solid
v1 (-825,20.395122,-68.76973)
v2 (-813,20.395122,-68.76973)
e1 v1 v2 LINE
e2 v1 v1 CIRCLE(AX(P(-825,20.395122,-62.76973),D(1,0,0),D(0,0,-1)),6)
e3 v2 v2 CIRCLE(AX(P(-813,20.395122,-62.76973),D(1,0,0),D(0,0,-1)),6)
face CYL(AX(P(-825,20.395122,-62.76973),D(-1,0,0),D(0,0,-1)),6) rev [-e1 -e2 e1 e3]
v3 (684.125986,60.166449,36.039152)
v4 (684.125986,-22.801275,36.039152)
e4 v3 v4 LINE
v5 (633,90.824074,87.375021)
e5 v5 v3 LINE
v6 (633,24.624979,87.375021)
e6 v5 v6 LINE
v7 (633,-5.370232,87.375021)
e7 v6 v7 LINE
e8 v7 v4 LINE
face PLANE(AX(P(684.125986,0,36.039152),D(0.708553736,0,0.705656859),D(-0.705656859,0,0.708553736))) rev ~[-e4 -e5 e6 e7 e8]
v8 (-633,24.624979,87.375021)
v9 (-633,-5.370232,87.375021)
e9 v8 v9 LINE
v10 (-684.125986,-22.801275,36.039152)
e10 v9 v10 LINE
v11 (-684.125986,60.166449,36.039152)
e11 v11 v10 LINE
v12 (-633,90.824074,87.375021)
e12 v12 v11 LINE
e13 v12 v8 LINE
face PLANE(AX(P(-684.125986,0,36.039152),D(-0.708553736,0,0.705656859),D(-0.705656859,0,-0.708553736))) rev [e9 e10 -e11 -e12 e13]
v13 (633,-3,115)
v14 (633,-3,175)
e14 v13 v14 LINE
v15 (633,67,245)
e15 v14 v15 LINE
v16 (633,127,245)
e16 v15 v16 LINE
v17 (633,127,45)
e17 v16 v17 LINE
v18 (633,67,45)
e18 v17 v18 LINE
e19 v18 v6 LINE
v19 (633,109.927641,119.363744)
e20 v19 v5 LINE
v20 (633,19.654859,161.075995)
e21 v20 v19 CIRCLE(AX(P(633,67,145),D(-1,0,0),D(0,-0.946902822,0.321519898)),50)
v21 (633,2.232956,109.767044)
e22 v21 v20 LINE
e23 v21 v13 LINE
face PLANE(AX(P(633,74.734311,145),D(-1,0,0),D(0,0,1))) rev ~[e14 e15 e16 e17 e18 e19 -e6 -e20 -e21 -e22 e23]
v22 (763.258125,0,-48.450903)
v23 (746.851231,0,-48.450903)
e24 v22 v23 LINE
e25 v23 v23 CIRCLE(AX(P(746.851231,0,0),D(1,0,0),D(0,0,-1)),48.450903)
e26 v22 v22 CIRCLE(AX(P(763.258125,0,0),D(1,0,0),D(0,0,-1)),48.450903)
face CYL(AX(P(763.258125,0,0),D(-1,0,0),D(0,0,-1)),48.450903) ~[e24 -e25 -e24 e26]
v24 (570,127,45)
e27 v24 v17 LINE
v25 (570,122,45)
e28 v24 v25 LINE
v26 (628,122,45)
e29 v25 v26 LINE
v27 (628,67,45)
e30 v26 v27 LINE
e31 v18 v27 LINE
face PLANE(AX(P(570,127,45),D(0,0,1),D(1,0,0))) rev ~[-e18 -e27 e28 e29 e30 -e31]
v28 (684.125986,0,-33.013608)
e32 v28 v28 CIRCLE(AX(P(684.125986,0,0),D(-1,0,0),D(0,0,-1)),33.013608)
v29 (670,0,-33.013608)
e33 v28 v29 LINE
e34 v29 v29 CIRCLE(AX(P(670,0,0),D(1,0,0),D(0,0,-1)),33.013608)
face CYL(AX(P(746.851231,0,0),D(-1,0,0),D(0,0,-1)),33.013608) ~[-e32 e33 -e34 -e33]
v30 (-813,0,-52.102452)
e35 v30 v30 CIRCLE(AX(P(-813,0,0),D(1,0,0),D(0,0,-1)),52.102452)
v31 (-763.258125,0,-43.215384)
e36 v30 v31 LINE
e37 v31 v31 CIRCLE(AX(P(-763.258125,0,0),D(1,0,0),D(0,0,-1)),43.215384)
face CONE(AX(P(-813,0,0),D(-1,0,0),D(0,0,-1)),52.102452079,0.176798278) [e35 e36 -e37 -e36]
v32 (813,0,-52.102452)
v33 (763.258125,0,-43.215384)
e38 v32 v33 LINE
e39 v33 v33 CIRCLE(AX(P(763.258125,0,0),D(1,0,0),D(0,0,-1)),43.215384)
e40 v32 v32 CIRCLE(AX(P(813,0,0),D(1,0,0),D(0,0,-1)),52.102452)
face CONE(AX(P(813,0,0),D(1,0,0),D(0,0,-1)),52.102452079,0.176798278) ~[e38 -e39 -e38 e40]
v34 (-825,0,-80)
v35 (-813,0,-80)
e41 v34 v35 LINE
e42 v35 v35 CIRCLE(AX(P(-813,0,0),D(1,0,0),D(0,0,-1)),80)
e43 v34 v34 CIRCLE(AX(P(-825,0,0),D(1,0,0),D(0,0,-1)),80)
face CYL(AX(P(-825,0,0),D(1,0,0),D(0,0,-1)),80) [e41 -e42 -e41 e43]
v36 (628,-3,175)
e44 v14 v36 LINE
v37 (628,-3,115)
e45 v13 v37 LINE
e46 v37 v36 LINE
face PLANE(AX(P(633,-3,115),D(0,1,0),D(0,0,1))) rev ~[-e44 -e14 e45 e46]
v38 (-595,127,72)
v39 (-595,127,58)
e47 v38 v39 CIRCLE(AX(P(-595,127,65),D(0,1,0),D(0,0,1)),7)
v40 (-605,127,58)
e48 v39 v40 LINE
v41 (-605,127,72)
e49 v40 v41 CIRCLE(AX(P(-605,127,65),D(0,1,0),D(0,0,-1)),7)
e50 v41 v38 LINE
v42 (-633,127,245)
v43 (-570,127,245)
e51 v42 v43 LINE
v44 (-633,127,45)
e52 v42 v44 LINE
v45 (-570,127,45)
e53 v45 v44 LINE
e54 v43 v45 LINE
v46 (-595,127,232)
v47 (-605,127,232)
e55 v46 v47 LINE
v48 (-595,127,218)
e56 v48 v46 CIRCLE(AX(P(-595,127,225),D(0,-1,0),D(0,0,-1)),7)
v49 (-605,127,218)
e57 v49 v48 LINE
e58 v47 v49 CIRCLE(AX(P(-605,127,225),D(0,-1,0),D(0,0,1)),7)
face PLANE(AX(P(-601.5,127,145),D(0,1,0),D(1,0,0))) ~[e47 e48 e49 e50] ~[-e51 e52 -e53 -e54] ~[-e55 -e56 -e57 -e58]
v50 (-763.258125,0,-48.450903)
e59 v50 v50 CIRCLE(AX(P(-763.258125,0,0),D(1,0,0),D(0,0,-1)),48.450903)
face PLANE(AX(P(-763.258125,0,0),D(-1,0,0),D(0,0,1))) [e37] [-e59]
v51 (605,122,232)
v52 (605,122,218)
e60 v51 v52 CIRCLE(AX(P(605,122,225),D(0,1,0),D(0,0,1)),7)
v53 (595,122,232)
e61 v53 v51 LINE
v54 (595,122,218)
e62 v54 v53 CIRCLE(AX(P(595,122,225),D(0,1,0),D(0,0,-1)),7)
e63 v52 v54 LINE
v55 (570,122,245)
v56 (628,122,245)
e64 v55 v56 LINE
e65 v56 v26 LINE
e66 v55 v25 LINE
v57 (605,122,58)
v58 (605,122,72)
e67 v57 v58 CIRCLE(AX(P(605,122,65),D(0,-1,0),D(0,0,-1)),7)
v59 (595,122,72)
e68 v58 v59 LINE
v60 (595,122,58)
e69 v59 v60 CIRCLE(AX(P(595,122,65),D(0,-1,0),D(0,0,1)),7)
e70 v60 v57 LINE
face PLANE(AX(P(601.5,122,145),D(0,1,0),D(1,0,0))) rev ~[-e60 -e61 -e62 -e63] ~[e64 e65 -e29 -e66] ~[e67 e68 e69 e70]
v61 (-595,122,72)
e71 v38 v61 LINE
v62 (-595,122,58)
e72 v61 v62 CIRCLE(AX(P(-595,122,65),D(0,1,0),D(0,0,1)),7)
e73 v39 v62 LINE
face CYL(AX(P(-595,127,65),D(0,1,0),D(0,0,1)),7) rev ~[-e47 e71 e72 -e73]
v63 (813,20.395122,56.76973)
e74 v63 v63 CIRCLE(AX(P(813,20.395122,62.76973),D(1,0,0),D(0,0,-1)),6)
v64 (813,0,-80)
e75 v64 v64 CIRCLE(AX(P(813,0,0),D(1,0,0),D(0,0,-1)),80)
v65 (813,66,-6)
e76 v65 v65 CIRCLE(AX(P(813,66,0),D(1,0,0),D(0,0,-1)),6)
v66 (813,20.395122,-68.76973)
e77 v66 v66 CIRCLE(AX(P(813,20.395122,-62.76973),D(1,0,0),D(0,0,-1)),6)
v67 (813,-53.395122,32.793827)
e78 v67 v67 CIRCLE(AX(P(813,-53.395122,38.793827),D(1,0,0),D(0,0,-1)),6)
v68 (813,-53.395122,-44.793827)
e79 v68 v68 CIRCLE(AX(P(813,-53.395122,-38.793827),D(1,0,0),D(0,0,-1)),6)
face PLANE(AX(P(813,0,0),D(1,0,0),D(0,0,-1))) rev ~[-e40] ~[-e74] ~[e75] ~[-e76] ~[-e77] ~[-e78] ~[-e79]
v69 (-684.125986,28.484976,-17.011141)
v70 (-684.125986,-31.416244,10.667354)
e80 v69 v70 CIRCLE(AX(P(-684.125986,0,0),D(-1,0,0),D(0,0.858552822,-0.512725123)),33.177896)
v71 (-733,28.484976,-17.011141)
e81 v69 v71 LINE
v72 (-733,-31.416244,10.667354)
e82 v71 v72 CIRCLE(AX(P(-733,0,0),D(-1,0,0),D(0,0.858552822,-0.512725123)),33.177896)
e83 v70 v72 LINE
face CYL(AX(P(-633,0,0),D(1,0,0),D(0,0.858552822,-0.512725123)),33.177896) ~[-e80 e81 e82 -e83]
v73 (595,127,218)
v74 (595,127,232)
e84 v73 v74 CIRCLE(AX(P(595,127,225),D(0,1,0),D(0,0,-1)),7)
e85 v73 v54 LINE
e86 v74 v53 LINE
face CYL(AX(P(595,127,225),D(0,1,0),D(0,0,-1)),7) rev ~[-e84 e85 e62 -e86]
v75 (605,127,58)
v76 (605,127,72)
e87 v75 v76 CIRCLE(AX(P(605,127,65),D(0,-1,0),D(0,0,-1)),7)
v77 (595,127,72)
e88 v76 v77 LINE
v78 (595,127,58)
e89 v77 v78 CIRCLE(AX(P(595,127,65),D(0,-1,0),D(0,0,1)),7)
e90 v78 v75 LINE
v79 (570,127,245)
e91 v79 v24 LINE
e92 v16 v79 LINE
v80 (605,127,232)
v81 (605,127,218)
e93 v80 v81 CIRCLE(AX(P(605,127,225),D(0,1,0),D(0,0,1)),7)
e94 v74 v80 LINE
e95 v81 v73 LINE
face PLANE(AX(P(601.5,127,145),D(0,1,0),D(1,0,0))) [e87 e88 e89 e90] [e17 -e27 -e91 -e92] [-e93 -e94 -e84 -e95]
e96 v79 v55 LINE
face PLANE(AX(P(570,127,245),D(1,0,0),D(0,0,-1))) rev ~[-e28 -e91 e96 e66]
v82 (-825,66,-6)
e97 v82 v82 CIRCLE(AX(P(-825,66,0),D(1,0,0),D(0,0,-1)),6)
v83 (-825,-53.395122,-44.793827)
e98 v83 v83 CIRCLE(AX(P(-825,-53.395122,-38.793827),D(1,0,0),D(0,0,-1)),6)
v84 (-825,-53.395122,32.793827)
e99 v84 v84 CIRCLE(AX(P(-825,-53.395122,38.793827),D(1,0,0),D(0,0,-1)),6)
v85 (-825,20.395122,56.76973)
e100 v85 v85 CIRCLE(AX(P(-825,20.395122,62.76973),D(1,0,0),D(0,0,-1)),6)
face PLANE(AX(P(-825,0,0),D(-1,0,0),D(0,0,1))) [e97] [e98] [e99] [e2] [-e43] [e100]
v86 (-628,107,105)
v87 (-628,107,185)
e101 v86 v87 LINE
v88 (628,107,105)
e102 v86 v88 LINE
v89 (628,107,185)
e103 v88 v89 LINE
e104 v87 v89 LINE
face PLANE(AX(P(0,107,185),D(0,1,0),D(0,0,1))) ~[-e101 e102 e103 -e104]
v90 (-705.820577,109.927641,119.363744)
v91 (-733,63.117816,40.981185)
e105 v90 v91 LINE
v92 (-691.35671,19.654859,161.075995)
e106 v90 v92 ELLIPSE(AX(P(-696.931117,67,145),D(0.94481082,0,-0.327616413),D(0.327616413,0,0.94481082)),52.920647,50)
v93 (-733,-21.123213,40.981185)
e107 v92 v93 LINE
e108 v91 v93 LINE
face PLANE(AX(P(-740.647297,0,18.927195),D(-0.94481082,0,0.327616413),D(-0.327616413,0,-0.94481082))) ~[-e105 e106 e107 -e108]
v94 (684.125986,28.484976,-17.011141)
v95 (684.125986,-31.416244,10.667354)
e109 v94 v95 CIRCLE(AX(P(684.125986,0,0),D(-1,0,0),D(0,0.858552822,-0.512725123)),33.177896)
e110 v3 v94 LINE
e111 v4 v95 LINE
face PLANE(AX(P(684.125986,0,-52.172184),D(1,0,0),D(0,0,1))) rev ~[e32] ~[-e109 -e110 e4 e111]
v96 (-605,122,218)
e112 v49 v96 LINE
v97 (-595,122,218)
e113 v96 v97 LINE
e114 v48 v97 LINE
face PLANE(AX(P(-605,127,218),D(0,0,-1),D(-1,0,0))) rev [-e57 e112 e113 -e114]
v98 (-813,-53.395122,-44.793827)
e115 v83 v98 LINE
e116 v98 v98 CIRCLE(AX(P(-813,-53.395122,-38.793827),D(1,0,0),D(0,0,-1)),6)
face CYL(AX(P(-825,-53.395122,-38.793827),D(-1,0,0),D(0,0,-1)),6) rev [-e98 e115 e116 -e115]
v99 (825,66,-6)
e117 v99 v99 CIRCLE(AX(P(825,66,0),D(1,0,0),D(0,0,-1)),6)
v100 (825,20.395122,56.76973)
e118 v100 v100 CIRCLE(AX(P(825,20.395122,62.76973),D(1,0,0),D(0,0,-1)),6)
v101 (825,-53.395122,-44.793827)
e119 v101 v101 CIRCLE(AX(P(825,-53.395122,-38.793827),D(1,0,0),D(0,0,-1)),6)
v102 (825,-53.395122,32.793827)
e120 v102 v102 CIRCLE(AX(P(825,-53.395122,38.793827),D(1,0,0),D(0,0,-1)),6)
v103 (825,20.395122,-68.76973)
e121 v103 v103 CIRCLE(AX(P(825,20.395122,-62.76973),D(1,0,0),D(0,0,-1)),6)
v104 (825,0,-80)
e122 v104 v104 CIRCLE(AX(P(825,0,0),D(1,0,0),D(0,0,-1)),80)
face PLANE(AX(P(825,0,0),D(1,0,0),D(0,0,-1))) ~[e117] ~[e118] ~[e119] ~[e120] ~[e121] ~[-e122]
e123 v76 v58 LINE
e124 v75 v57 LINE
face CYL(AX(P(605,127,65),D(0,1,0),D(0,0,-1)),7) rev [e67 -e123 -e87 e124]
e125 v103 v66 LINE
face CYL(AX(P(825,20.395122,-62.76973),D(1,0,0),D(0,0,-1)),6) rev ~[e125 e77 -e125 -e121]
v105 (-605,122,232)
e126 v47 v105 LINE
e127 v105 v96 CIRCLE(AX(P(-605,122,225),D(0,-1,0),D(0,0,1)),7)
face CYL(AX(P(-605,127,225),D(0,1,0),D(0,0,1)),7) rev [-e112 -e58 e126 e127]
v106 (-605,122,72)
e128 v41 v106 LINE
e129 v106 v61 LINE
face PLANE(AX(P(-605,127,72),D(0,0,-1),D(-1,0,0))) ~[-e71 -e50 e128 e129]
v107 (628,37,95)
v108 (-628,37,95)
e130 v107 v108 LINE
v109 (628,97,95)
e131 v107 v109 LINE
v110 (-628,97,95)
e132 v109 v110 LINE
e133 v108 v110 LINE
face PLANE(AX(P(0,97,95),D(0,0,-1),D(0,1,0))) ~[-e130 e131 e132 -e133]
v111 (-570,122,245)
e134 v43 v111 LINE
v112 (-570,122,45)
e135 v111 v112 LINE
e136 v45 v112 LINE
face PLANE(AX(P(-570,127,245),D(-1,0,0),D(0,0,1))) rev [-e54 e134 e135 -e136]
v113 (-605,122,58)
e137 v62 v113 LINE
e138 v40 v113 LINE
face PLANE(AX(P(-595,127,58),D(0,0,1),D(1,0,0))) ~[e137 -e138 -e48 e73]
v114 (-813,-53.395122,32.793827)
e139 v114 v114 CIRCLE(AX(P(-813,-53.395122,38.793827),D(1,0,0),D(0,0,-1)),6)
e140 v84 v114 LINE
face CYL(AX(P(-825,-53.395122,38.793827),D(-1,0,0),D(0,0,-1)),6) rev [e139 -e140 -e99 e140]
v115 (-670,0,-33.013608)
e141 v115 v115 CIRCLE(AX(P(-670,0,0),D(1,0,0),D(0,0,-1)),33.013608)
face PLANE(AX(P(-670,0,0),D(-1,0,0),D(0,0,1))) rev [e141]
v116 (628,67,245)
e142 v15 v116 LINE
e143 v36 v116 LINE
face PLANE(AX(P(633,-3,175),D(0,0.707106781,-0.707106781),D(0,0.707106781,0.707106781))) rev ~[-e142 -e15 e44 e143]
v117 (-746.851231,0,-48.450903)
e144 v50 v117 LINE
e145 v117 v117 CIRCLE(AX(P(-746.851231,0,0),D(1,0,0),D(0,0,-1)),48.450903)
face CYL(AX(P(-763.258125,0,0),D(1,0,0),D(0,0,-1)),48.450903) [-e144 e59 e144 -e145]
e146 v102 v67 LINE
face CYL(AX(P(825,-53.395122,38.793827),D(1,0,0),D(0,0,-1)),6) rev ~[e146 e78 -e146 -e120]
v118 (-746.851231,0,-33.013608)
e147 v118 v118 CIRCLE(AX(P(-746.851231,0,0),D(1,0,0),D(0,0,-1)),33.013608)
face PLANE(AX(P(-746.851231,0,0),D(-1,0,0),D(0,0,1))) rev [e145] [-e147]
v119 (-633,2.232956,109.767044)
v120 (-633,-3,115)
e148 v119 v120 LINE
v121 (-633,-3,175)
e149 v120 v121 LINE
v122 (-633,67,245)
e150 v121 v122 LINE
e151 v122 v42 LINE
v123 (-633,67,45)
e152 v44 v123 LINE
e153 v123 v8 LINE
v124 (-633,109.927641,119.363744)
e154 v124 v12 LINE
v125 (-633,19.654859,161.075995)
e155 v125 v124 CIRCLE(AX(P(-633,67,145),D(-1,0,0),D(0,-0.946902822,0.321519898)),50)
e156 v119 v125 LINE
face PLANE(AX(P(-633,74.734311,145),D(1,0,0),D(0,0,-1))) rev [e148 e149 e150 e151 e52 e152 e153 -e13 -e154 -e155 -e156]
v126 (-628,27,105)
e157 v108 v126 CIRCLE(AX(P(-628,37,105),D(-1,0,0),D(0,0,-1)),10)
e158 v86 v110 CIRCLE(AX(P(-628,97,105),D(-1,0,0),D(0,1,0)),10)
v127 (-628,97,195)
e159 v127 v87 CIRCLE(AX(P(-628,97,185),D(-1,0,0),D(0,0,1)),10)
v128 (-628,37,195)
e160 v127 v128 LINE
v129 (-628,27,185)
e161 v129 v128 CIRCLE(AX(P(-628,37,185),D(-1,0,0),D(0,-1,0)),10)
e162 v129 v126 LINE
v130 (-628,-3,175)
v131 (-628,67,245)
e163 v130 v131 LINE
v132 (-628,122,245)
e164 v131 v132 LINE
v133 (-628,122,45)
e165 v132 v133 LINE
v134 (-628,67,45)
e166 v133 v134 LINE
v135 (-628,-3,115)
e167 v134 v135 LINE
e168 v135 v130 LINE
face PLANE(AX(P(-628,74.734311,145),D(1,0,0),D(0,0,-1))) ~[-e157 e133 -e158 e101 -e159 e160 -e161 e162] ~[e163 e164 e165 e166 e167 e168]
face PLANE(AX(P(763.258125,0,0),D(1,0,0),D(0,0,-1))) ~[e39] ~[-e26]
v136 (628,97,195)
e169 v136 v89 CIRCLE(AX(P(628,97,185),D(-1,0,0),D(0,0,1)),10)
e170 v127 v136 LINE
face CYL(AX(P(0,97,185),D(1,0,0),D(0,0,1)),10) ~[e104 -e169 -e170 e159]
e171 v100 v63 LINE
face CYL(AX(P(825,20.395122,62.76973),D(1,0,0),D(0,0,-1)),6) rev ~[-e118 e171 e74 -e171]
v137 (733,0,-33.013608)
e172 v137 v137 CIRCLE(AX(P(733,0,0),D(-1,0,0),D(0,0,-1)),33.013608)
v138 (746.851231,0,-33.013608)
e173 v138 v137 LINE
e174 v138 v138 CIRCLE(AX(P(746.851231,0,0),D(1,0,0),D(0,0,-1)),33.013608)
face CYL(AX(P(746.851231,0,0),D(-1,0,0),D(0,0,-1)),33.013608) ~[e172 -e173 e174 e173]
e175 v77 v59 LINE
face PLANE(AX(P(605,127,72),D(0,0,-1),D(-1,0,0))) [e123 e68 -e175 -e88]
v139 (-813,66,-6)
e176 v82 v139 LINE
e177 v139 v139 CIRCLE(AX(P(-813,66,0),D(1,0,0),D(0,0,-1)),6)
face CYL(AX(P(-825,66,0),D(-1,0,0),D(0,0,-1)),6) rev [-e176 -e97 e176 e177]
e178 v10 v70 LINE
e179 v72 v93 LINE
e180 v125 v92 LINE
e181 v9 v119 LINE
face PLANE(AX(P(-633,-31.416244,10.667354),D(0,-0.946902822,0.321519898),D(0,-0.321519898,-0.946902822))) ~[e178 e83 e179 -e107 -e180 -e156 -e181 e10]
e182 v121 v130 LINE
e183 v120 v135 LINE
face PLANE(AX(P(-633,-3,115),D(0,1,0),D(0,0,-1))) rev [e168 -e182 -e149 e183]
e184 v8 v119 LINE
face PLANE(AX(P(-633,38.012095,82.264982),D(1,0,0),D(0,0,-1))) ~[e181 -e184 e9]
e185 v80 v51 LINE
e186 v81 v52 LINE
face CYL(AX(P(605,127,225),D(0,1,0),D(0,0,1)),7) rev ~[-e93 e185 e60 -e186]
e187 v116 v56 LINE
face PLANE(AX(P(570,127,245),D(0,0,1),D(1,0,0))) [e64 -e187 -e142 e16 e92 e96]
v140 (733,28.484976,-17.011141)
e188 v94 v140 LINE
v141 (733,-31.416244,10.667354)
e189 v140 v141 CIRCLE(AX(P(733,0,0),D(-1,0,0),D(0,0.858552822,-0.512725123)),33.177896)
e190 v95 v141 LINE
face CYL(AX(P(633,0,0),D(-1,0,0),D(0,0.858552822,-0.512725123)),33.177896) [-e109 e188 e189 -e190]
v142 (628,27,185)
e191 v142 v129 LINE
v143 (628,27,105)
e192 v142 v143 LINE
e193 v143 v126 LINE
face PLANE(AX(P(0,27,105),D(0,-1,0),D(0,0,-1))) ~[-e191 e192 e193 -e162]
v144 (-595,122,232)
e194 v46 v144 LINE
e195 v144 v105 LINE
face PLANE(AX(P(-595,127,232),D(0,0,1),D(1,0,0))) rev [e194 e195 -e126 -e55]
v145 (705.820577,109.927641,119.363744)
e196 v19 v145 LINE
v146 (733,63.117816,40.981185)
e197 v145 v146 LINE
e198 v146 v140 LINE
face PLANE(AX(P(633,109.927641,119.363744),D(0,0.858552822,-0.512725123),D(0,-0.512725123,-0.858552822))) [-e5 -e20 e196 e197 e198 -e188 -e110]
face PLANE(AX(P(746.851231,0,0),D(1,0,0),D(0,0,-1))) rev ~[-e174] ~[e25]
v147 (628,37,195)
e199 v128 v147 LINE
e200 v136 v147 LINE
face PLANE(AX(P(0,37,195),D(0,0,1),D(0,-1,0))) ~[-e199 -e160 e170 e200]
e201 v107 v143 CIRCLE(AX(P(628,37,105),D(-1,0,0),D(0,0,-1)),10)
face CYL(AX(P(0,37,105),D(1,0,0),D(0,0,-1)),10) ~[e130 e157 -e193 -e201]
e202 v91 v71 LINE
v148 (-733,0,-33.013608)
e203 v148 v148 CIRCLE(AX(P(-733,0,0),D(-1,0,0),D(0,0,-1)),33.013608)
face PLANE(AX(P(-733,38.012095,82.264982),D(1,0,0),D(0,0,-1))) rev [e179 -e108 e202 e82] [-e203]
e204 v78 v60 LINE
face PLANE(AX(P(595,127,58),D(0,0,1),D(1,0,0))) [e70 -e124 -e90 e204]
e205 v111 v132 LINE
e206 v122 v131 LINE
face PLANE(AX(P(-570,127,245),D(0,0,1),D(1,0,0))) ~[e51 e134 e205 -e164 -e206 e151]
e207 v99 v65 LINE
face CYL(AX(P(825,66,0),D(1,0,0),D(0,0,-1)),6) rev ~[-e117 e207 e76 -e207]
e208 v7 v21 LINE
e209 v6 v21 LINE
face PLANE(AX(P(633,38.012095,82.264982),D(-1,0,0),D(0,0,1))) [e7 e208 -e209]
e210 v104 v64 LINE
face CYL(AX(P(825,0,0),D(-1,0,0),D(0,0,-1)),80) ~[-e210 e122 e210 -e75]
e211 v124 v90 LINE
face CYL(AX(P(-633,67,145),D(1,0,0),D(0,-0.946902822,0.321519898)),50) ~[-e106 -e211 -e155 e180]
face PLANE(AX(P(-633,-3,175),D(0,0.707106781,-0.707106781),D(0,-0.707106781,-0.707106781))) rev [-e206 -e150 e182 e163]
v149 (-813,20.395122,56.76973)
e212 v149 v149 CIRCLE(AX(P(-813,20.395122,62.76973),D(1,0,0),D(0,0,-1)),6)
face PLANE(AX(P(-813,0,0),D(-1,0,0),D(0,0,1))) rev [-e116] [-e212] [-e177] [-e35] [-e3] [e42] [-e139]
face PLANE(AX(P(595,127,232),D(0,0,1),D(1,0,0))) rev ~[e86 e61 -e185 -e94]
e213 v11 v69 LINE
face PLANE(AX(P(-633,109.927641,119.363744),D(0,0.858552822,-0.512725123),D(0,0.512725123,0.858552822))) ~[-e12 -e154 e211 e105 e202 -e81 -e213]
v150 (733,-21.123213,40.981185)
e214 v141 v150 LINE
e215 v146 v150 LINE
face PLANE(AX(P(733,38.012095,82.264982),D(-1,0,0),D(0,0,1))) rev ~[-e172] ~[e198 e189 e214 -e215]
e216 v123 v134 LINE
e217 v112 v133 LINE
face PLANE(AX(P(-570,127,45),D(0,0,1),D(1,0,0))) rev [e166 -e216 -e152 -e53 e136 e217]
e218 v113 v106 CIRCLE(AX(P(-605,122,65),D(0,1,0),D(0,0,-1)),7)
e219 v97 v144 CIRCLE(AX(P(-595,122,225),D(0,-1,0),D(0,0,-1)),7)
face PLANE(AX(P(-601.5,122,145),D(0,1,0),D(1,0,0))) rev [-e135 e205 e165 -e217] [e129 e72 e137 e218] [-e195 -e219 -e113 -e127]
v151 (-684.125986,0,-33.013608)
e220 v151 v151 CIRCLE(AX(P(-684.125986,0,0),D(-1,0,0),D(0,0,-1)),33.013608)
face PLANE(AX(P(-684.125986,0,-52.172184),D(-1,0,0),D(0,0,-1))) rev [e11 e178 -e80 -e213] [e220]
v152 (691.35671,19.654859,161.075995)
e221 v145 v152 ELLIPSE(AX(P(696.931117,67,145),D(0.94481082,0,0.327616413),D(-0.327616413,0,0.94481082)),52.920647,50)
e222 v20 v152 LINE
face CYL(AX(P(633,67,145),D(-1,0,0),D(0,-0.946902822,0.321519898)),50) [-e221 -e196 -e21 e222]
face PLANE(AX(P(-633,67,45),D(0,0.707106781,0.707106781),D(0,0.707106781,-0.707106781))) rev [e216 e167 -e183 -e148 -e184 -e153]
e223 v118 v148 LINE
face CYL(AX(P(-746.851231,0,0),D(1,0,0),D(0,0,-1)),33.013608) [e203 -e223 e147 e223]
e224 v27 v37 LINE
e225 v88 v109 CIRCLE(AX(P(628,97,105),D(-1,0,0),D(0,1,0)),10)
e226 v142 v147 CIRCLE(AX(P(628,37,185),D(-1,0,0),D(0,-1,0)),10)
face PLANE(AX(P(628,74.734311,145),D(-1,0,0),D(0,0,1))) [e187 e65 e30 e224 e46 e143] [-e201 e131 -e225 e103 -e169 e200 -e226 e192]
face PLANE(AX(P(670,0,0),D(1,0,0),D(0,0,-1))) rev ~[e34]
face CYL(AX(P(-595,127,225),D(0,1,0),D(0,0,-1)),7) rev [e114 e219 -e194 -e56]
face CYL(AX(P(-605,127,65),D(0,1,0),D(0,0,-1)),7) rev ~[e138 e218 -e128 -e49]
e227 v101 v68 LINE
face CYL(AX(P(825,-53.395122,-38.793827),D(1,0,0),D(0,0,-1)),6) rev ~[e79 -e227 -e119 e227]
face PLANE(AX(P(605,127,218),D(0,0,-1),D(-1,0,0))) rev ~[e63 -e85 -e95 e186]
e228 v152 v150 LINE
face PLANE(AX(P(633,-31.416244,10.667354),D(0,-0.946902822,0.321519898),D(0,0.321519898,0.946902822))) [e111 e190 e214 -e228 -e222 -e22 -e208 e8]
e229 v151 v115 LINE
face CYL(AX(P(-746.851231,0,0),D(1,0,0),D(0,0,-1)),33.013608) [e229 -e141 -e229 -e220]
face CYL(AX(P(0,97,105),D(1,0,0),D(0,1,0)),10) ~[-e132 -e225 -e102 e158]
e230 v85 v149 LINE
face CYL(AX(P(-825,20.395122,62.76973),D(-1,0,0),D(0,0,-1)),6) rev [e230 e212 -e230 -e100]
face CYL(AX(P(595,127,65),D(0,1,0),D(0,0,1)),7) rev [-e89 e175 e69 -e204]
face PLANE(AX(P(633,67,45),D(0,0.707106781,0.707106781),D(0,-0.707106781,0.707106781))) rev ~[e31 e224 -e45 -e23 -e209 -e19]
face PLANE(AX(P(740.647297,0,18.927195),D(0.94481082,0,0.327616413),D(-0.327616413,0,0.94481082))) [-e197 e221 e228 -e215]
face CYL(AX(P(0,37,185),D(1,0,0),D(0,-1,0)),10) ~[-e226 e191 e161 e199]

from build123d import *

# Parameters (mm, degrees)
CUT_EXTRUDE1_REACH      = 157
SKETCH2_R               = 6
BOSS_EXTRUDE1_DEPTH     = 633
BOSS_EXTRUDE2_DEPTH     = 5
SKETCH6_W               = 63
SKETCH6_H               = 200
BOSS_EXTRUDE3_DEPTH     = 5
BOSS_EXTRUDE4_DEPTH     = 100
CUT_EXTRUDE2_DEPTH      = 128
CUT_EXTRUDE2_DEPTH_BACK = 81


with BuildPart() as part:
    # Sketch1 → Revolve1 (revolve)
    with BuildSketch(Plane(origin=(0, 0, 0), x_dir=(1, 0, 0), z_dir=(0, 1, 0))):
        Polygon((825, 0), (825, 80), (813, 80), (813, 52.102452079), (763.258124913, 43.215384463), (763.258124913, 48.450903374), (746.851230852, 48.450903374), (746.851230852, 33.013608417), (670, 33.013608417), (670, 0), align=None)
    revolve(axis=Axis((657.896171738, 0, 0), (1, 0, 0)))

    # Sketch2 → Cut-Extrude1 (cut, up to next)
    with BuildSketch(Plane(origin=(825, 0, 0), x_dir=(0, 0, -1), z_dir=(1, 0, 0)), mode=Mode.PRIVATE) as cut_extrude1_sk1:
        with Locations((0, 66)):
            Circle(SKETCH2_R)
    cut_extrude1_tool1 = extrude(cut_extrude1_sk1.sketch, amount=-CUT_EXTRUDE1_REACH, mode=Mode.PRIVATE) & part.part
    add(cut_extrude1_tool1.solids().sort_by_distance((825, 66, 0))[0], mode=Mode.SUBTRACT)
    # Sketch2 → Cut-Extrude1 (cut, up to next)
    with BuildSketch(Plane(origin=(825, 0, 0), x_dir=(0, 0, -1), z_dir=(1, 0, 0)), mode=Mode.PRIVATE) as cut_extrude1_sk2:
        with Locations((62.769730075, 20.395121629)):
            Circle(SKETCH2_R)
    cut_extrude1_tool2 = extrude(cut_extrude1_sk2.sketch, amount=-CUT_EXTRUDE1_REACH, mode=Mode.PRIVATE) & part.part
    add(cut_extrude1_tool2.solids().sort_by_distance((825, 20.395122, -62.76973))[0], mode=Mode.SUBTRACT)
    # Sketch2 → Cut-Extrude1 (cut, up to next)
    with BuildSketch(Plane(origin=(825, 0, 0), x_dir=(0, 0, -1), z_dir=(1, 0, 0)), mode=Mode.PRIVATE) as cut_extrude1_sk3:
        with Locations((38.793826651, -53.395121629)):
            Circle(SKETCH2_R)
    cut_extrude1_tool3 = extrude(cut_extrude1_sk3.sketch, amount=-CUT_EXTRUDE1_REACH, mode=Mode.PRIVATE) & part.part
    add(cut_extrude1_tool3.solids().sort_by_distance((825, -53.395122, -38.793827))[0], mode=Mode.SUBTRACT)
    # Sketch2 → Cut-Extrude1 (cut, up to next)
    with BuildSketch(Plane(origin=(825, 0, 0), x_dir=(0, 0, -1), z_dir=(1, 0, 0)), mode=Mode.PRIVATE) as cut_extrude1_sk4:
        with Locations((-38.793826651, -53.395121629)):
            Circle(SKETCH2_R)
    cut_extrude1_tool4 = extrude(cut_extrude1_sk4.sketch, amount=-CUT_EXTRUDE1_REACH, mode=Mode.PRIVATE) & part.part
    add(cut_extrude1_tool4.solids().sort_by_distance((825, -53.395122, 38.793827))[0], mode=Mode.SUBTRACT)
    # Sketch2 → Cut-Extrude1 (cut, up to next)
    with BuildSketch(Plane(origin=(825, 0, 0), x_dir=(0, 0, -1), z_dir=(1, 0, 0)), mode=Mode.PRIVATE) as cut_extrude1_sk5:
        with Locations((-62.769730075, 20.395121629)):
            Circle(SKETCH2_R)
    cut_extrude1_tool5 = extrude(cut_extrude1_sk5.sketch, amount=-CUT_EXTRUDE1_REACH, mode=Mode.PRIVATE) & part.part
    add(cut_extrude1_tool5.solids().sort_by_distance((825, 20.395122, 62.76973))[0], mode=Mode.SUBTRACT)


with BuildPart() as body_2:
    # Sketch4 → Boss-Extrude1 (new body)
    with BuildSketch(Plane(origin=(0, 0, 0), x_dir=(0, 0, -1), z_dir=(1, 0, 0))):
        with BuildLine():
            Line((-185, 107), (-105, 107))
            ThreePointArc((-105, 107), (-97.928932188, 104.071067812), (-95, 97))
            Line((-95, 97), (-95, 37))
            ThreePointArc((-95, 37), (-97.928932188, 29.928932188), (-105, 27))
            Line((-105, 27), (-185, 27))
            ThreePointArc((-185, 27), (-192.071067812, 29.928932188), (-195, 37))
            Line((-195, 37), (-195, 97))
            ThreePointArc((-195, 97), (-192.071067812, 104.071067812), (-185, 107))
        make_face()
    extrude(amount=BOSS_EXTRUDE1_DEPTH)

    # Sketch5 → Boss-Extrude2 (add)
    with BuildSketch(Plane(origin=(633, 0, 0), x_dir=(0, 0, -1), z_dir=(1, 0, 0))):
        Polygon((-245, 127), (-45, 127), (-45, 67), (-115, -3), (-175, -3), (-245, 67), align=None)
    extrude(amount=-BOSS_EXTRUDE2_DEPTH)

    # Sketch6 → Boss-Extrude3 (add)
    with BuildSketch(Plane(origin=(0, 127, 0), x_dir=(1, 0, 0), z_dir=(0, 1, 0))):
        with Locations((601.5, -145)):
            Rectangle(SKETCH6_W, SKETCH6_H)
        with BuildLine():
            Line((595, -58), (605, -58))
            ThreePointArc((605, -58), (612, -65), (605, -72))
            Line((605, -72), (595, -72))
            ThreePointArc((595, -72), (588, -65), (595, -58))
        make_face(mode=Mode.SUBTRACT)
        with BuildLine():
            Line((595, -232), (605, -232))
            ThreePointArc((605, -232), (612, -225), (605, -218))
            Line((605, -218), (595, -218))
            ThreePointArc((595, -218), (588, -225), (595, -232))
        make_face(mode=Mode.SUBTRACT)
    extrude(amount=-BOSS_EXTRUDE3_DEPTH)


with BuildPart() as body_3:
    # Sketch7 → Boss-Extrude4 (new body)
    with BuildSketch(Plane(origin=(633, 0, 0), x_dir=(0, 0, -1), z_dir=(1, 0, 0))):
        with BuildLine():
            Line((-119.363743831, 109.927641091), (17.011140909, 28.484976382))
            ThreePointArc((17.011140909, 28.484976382), (30.118099961, -13.916639292), (-10.667353807, -31.416243525))
            Line((-10.667353807, -31.416243525), (-161.07599492, 19.654858884))
            ThreePointArc((-161.07599492, 19.654858884), (-190.388803142, 87.972757314), (-119.363743831, 109.927641091))
        make_face()
    extrude(amount=BOSS_EXTRUDE4_DEPTH)

    # Sketch8 → Cut-Extrude2 (cut, two sides)
    with BuildSketch(Plane(origin=(0, 0, 0), x_dir=(1, 0, 0), z_dir=(0, 1, 0))) as cut_extrude2_sk:
        Polygon((684.125986069, 52.172184326), (684.125986069, -36.03915177), (633, -87.375021277), (621.083181111, -87.375021277), (621.083181111, 52.172184326), align=None)
        Polygon((762.556990908, -18.927195268), (740.647296939, -18.927195268), (670.961767899, -219.892834515), (762.556990908, -219.892834515), align=None)
    extrude(amount=CUT_EXTRUDE2_DEPTH, mode=Mode.SUBTRACT)
    extrude(cut_extrude2_sk.sketch, amount=-CUT_EXTRUDE2_DEPTH_BACK, mode=Mode.SUBTRACT)


with BuildPart() as body_2_1:
    add(body_2.part)

    # Combine1: union body 3, part
    add(body_3.part)
    add(part.part)

    # Mirror4: body 2 across plane


with BuildPart() as body_2_2:
    add(body_2_1.part)
    add(body_2_1.part.mirror(Plane(origin=(0, 0, 0), x_dir=(0, 0, 1), z_dir=(1, 0, 0))))


solid = body_2_2.part
